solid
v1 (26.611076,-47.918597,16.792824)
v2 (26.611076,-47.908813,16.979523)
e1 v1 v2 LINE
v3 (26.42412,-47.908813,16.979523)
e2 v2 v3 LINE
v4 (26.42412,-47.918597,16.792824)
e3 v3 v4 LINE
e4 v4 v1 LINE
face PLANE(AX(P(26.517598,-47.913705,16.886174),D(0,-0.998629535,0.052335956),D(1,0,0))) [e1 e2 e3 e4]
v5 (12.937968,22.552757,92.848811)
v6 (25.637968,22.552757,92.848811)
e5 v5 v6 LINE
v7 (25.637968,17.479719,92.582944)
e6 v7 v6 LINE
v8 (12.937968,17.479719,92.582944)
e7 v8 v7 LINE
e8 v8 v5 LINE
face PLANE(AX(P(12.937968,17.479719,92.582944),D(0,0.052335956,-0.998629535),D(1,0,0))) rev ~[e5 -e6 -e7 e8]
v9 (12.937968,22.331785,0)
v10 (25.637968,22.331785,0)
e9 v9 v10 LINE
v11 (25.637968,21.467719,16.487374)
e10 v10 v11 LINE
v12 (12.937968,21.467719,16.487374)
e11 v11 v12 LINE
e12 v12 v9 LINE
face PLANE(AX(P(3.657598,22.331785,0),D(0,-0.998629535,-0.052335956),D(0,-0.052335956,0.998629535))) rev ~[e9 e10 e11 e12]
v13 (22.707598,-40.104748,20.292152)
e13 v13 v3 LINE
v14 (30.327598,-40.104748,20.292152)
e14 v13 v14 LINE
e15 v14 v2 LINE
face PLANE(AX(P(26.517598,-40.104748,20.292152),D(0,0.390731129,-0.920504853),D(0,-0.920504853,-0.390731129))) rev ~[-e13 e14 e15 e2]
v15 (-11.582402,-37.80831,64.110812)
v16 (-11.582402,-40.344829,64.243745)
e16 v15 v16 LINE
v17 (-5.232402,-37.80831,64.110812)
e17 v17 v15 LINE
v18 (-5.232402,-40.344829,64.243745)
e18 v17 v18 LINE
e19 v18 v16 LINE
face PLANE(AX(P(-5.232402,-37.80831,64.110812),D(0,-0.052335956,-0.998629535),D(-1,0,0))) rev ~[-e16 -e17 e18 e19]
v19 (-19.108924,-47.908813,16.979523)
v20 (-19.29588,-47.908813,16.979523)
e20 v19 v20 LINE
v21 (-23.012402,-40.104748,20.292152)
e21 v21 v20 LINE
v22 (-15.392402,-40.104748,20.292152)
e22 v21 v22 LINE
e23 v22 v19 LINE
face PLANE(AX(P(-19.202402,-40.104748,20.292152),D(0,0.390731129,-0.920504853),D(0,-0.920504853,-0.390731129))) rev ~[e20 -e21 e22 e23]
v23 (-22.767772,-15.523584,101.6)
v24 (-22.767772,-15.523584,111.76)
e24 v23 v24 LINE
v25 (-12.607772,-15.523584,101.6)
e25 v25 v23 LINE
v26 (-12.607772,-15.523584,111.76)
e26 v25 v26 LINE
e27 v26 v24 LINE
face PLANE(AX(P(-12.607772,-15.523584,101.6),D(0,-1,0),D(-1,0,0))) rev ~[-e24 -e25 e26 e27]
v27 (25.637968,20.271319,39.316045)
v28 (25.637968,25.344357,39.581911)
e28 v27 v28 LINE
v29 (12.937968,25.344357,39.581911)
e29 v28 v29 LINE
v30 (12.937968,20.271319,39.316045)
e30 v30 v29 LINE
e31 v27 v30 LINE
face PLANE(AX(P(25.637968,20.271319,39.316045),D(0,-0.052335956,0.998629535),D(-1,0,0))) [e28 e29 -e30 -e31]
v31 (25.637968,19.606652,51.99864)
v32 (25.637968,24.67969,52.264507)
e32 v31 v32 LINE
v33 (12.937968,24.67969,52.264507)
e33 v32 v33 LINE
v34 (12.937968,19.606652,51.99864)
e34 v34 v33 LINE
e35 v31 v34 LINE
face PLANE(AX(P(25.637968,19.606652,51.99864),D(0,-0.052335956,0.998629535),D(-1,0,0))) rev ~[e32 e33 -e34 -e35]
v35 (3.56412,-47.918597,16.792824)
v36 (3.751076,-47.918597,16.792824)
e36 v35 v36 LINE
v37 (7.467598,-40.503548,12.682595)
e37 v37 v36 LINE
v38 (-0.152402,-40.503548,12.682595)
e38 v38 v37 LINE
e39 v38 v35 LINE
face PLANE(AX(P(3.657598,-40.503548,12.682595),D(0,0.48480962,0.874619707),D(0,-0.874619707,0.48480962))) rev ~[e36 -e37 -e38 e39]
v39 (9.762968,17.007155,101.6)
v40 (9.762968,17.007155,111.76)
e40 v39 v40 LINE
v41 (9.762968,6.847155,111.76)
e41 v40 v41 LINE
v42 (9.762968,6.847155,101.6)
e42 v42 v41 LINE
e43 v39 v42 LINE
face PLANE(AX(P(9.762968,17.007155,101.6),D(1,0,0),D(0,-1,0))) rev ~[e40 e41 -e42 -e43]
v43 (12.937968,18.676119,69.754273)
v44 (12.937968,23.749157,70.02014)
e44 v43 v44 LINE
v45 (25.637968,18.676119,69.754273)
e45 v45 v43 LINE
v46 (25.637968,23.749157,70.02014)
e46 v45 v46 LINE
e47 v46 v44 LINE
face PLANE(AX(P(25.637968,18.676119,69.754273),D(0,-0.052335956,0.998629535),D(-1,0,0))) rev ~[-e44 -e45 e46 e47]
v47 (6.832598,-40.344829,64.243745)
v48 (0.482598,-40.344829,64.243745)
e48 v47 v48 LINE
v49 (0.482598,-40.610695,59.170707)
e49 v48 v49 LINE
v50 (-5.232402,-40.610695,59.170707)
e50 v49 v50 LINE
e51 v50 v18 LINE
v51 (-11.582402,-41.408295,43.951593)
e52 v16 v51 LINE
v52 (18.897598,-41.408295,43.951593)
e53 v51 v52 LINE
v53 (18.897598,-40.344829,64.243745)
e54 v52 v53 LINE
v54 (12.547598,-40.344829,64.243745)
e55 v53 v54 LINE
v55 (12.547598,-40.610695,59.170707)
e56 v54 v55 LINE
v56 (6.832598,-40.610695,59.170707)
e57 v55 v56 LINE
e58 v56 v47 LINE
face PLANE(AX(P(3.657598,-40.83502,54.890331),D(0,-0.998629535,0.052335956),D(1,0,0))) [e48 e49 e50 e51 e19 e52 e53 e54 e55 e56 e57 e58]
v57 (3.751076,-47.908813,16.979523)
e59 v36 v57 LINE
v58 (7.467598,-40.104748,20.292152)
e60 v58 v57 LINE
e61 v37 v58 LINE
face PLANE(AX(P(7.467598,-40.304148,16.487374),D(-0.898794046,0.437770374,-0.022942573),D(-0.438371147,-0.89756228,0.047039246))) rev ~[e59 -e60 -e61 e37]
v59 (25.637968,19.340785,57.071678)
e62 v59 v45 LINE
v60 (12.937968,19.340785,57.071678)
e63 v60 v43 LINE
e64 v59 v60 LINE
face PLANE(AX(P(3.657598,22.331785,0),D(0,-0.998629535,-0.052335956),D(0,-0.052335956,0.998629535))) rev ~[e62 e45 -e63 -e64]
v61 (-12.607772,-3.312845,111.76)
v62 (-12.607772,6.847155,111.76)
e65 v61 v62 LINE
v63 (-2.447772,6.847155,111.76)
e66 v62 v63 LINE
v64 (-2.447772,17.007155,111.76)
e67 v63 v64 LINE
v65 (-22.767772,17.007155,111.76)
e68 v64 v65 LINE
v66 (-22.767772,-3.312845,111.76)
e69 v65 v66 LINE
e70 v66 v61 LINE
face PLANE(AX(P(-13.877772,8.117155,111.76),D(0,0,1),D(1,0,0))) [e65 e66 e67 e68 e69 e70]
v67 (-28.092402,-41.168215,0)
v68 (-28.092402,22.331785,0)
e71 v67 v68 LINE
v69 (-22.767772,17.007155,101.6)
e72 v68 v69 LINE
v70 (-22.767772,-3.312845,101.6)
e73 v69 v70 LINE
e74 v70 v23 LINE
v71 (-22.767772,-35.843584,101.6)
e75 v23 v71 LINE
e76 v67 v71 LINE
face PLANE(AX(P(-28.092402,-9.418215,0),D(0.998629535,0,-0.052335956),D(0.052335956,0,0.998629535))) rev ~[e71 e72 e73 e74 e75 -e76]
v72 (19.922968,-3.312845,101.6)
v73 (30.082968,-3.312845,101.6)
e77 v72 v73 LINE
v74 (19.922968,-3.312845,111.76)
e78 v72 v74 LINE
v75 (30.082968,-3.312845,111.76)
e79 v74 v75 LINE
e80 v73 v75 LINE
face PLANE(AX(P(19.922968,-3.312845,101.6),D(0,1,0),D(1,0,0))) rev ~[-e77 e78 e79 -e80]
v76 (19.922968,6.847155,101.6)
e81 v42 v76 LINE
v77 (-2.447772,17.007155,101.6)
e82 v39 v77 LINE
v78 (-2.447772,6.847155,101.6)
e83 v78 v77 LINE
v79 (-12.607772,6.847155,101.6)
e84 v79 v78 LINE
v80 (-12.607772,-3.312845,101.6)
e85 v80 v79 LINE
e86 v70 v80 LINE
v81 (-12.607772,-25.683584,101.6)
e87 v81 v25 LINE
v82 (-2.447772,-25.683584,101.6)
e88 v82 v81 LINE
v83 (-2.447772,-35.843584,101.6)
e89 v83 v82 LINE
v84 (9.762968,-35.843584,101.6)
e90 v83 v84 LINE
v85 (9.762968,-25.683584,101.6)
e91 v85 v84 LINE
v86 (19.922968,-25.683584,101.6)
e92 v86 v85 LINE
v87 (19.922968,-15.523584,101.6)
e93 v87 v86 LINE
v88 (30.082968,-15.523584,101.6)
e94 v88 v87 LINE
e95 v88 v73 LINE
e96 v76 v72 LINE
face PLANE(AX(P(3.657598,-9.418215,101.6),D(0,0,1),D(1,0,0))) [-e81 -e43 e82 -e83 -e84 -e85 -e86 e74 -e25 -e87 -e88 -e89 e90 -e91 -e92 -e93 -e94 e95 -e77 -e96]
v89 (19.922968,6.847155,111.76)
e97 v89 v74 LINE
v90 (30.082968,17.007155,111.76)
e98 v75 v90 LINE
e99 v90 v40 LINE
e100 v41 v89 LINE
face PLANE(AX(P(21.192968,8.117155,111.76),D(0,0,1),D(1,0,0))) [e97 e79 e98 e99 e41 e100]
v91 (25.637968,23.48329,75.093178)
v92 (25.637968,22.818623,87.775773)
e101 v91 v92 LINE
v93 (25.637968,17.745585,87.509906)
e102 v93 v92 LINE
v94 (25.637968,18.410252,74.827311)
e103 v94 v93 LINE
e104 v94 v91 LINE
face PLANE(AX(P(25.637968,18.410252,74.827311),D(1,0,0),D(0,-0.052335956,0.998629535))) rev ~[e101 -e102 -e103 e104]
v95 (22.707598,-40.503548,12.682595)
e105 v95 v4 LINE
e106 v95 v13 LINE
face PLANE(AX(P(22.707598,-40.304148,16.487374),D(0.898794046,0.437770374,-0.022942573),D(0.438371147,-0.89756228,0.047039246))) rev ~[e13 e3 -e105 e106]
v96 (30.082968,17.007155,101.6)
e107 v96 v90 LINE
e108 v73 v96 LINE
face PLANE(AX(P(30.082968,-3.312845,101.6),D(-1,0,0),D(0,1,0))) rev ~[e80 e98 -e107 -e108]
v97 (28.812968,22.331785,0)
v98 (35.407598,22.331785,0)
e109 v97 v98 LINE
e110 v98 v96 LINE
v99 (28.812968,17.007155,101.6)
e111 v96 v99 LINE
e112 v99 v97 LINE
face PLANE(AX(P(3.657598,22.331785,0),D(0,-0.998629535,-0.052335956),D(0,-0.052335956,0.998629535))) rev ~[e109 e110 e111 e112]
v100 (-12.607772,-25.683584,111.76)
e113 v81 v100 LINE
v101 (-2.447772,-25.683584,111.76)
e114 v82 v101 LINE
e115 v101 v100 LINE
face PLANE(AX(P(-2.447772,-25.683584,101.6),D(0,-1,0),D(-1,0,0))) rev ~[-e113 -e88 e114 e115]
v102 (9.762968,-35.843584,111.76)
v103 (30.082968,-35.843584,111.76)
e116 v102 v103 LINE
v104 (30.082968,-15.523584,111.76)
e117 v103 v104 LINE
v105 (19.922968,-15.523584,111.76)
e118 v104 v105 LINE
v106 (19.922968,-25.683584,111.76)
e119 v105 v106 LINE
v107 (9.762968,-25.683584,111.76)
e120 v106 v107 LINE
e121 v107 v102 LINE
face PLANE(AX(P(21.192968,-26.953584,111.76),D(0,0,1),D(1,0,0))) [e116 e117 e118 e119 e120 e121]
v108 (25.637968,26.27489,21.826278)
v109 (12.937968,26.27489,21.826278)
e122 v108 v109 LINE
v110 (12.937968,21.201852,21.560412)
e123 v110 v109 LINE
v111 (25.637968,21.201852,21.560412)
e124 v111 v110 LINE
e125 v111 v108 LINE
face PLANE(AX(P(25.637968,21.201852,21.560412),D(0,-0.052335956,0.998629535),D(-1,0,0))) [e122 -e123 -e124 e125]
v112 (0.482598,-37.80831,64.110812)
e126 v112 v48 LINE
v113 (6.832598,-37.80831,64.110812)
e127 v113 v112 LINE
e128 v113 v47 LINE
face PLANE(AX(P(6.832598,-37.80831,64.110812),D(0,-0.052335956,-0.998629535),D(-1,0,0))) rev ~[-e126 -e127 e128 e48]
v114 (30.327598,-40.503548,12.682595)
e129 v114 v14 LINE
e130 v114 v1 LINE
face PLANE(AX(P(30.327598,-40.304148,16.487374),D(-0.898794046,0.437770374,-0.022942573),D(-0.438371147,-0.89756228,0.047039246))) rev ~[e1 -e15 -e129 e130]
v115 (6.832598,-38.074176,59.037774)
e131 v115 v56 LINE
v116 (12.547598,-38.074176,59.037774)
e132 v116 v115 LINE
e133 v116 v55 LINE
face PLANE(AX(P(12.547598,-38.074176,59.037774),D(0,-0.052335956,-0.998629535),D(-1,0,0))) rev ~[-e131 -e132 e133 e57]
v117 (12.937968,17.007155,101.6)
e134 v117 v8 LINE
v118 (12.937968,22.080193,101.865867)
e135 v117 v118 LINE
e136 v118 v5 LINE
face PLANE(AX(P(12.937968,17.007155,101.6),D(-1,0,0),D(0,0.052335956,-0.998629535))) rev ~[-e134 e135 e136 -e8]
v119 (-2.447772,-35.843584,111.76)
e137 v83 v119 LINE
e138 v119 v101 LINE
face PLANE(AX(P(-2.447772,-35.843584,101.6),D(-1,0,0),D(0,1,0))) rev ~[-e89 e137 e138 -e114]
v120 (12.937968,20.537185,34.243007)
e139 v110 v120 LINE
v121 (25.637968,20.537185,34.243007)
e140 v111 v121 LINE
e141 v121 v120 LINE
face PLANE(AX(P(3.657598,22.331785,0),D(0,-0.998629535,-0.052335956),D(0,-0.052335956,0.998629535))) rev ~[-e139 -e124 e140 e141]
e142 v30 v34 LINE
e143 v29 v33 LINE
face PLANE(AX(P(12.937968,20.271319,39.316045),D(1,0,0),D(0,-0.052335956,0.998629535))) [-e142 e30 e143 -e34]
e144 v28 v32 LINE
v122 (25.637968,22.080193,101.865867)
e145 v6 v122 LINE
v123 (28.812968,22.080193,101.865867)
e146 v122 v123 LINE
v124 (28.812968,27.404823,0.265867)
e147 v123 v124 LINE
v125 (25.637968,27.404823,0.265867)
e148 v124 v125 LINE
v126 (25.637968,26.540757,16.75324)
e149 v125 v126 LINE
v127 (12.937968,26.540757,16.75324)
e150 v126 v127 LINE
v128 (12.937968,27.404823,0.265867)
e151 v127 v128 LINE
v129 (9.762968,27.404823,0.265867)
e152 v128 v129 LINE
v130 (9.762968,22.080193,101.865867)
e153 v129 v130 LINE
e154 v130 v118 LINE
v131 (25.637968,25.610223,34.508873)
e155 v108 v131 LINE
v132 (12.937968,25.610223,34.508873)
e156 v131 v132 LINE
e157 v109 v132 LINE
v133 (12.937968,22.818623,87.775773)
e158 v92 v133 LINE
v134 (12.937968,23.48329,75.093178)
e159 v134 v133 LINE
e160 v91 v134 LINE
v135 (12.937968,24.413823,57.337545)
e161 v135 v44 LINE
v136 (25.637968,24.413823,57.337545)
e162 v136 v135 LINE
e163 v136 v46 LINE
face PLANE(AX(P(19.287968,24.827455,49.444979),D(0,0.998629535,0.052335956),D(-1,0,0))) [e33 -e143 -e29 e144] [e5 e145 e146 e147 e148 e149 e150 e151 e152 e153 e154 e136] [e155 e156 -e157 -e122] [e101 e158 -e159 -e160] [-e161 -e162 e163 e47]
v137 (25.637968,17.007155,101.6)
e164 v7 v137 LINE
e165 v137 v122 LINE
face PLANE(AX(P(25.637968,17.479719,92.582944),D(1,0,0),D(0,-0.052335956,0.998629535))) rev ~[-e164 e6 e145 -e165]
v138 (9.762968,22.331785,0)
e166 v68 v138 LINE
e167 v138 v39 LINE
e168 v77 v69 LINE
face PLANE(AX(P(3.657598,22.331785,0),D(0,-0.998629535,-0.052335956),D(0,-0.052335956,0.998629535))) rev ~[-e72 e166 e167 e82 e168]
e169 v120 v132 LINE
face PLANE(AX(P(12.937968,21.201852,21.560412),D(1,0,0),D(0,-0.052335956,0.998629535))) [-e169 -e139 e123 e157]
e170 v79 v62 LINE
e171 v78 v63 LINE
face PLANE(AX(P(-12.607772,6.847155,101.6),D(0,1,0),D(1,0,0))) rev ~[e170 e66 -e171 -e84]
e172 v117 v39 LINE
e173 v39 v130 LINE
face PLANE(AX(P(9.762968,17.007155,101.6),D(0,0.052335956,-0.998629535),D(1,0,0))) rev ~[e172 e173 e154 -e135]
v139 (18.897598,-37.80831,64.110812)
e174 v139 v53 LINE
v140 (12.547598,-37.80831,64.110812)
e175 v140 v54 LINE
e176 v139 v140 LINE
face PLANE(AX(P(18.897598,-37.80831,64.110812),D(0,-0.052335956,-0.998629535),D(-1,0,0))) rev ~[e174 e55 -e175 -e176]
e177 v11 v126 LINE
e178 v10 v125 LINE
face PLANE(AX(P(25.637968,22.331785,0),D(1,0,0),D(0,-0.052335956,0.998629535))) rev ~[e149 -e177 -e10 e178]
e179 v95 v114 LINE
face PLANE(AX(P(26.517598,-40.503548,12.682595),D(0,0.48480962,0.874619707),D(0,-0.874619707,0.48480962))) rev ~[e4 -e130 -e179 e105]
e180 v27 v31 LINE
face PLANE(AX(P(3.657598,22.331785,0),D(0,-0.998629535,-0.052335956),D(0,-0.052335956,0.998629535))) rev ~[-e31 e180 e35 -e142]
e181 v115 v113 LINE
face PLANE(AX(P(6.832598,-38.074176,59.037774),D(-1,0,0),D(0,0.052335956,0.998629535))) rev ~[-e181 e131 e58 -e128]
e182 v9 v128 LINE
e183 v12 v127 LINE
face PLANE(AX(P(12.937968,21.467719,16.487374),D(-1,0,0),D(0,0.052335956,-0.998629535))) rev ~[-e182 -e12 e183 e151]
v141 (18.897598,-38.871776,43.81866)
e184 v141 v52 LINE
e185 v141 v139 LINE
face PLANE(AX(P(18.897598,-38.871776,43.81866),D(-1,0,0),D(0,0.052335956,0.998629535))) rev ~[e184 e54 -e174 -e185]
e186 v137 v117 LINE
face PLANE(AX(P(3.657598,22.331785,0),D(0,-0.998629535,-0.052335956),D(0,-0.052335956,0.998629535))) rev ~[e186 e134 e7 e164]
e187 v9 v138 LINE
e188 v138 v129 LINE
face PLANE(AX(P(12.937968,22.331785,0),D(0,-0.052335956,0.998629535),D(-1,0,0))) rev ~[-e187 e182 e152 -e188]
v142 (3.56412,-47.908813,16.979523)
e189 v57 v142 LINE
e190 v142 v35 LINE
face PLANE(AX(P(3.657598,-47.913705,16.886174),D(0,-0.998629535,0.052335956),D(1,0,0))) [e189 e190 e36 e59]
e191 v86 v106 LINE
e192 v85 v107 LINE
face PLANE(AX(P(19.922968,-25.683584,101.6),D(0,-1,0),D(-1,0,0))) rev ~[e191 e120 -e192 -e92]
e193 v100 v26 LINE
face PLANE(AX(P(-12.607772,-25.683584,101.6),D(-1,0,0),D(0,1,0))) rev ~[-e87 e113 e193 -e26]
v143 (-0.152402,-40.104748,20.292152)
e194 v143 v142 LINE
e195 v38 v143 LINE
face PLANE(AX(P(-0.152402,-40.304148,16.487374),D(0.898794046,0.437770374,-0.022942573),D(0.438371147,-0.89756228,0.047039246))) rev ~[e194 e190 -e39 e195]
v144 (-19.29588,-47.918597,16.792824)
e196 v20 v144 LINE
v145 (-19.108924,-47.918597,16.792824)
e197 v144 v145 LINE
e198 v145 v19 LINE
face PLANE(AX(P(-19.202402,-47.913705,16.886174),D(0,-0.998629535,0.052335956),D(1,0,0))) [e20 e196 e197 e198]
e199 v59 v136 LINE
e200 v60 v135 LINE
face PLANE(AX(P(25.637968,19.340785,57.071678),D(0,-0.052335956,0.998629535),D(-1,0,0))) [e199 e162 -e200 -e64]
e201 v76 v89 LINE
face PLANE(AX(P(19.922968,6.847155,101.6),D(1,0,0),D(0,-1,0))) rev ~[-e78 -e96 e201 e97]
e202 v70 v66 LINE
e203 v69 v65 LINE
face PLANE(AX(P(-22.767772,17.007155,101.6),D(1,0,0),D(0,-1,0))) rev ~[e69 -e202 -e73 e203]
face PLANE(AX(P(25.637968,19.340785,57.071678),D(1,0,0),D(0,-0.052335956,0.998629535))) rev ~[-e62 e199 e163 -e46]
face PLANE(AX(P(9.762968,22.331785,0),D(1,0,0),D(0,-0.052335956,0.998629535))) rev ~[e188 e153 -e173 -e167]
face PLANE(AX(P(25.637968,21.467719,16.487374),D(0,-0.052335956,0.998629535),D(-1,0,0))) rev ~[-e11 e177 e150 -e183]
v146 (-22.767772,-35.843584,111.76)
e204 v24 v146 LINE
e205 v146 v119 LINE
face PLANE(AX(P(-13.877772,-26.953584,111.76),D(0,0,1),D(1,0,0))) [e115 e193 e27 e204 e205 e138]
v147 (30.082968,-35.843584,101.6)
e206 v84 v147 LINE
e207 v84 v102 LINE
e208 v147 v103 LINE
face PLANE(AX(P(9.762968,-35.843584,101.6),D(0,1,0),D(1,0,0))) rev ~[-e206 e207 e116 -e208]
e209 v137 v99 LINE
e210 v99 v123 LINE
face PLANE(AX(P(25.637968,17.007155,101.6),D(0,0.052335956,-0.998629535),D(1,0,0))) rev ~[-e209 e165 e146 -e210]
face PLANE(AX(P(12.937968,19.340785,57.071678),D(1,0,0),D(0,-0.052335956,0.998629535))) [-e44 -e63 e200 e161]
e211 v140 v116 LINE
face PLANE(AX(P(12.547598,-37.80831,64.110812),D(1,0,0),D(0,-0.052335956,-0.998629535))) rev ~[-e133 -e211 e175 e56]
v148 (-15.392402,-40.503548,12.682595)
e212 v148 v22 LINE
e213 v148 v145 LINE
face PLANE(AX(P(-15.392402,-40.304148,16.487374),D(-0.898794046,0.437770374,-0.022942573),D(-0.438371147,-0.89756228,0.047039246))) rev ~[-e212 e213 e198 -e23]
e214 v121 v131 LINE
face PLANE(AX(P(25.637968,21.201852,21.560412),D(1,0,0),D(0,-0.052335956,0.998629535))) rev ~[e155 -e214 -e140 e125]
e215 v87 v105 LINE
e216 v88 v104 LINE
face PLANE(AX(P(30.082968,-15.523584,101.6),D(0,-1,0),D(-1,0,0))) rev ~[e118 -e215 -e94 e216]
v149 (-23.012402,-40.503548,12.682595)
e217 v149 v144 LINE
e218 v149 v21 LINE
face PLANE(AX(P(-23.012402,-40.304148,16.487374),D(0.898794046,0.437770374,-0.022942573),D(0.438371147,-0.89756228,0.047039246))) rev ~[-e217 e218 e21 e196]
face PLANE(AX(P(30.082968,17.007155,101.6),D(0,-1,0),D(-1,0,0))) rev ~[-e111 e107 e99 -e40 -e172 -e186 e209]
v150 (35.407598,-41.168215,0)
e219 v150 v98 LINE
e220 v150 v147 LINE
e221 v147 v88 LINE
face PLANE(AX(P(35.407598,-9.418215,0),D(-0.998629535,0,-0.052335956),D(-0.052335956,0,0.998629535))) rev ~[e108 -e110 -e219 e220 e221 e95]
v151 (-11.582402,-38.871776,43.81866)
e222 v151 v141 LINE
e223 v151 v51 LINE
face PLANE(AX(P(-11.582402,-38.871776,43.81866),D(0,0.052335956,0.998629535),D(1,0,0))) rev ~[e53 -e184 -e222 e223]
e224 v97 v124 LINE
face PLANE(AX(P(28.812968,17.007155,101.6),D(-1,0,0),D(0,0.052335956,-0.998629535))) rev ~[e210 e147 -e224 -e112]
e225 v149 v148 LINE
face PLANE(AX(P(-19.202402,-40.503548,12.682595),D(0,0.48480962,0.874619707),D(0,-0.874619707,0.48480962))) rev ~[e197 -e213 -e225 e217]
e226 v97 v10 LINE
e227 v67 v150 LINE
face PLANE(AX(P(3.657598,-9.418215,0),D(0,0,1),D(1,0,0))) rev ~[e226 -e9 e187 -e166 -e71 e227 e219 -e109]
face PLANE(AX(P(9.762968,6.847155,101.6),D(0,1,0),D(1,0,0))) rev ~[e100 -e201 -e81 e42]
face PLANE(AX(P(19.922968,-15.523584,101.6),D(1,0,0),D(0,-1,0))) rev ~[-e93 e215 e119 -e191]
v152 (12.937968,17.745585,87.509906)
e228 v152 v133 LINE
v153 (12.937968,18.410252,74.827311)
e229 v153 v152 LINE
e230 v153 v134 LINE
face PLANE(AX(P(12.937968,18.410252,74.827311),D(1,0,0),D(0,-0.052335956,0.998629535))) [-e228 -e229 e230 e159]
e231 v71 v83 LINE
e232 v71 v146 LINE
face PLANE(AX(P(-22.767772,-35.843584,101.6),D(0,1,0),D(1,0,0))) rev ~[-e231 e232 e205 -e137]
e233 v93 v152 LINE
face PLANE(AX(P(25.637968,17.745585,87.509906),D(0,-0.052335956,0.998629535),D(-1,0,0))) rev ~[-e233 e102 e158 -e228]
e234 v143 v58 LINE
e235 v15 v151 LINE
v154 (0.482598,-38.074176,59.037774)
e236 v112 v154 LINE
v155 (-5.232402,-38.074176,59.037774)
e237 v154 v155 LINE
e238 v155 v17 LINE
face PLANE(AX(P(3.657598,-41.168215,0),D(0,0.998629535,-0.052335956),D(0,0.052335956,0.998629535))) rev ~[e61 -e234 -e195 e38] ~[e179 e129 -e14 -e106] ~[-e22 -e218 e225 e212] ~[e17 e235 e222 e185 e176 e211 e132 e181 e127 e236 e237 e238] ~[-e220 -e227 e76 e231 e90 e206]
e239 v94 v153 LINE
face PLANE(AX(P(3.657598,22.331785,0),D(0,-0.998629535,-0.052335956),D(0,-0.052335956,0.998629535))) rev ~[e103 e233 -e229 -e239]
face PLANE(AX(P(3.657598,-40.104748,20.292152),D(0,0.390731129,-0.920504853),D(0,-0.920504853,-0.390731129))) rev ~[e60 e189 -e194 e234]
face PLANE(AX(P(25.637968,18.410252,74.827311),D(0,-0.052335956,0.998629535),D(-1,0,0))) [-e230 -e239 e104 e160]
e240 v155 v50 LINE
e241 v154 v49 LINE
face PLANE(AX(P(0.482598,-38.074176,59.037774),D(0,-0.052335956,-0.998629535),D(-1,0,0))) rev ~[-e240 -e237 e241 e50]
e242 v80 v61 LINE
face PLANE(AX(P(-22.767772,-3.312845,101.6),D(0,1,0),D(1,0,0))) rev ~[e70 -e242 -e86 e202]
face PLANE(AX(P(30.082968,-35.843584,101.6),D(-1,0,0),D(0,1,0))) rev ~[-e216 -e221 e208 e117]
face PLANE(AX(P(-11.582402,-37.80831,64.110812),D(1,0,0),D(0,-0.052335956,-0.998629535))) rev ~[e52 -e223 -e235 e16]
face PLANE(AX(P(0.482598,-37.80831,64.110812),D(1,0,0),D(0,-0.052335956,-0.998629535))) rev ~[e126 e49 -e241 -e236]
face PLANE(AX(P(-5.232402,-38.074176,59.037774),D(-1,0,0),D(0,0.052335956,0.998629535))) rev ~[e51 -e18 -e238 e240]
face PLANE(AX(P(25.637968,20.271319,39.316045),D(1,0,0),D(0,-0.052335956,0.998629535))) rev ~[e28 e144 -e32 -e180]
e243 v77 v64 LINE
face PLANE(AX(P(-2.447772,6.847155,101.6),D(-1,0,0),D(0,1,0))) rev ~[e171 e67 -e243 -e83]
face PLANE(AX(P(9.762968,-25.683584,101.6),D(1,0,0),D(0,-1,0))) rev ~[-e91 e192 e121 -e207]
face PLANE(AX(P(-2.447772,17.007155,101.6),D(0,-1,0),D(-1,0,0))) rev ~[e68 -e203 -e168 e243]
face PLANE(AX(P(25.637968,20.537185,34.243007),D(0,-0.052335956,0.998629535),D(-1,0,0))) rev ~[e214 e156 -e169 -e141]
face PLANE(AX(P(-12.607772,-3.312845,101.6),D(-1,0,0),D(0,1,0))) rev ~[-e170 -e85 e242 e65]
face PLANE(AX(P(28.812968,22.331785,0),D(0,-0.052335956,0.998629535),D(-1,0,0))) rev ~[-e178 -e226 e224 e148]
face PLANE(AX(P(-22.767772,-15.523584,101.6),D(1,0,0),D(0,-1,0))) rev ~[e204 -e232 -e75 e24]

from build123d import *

# Parameters (mm, degrees)
F0_W     = 63.5
F0_H     = 63.5
F1_DEPTH = 101.6
F1_TAPER = 3
F3_DEPTH = 10.16
F4_W     = 7.62
F4_H     = 7.62
F5_DEPTH = 7.62
F5_TAPER = 26
F7_DEPTH = 2.54
F8_W     = 12.7
F8_H     = 12.7
F9_DEPTH = 5.08


with BuildPart() as f1:
    # F0 (on Top) → F1 (new body)
    with BuildSketch(Plane.XY):
        with Locations((3.6575980484, -9.4182148212)):
            Rectangle(F0_W, F0_H)
    extrude(amount=F1_DEPTH, taper=F1_TAPER)

    # F2 (on face) → F3 (join)
    with BuildSketch(Plane.XY.offset(101.6)):
        Polygon((-12.6077715764, -15.5235844461), (-22.7677715764, -15.5235844461), (-22.7677715764, -35.8435844461), (-12.6077715764, -35.8435844461), (-2.4477715764, -35.8435844461), (-2.4477715764, -25.6835844461), (-12.6077715764, -25.6835844461), align=None)
        Polygon((19.9229676733, -35.8435844461), (30.0829676733, -35.8435844461), (30.0829676733, -15.5235844461), (19.9229676733, -15.5235844461), (19.9229676733, -25.6835844461), (9.7629676733, -25.6835844461), (9.7629676733, -35.8435844461), align=None)
        Polygon((-12.6077715764, 17.0071548036), (-22.7677715764, 17.0071548036), (-22.7677715764, -3.3128451964), (-12.6077715764, -3.3128451964), (-12.6077715764, 6.8471548036), (-2.4477715764, 6.8471548036), (-2.4477715764, 17.0071548036), align=None)
        Polygon((30.0829676733, -3.3128451964), (30.0829676733, 17.0071548036), (19.9229676733, 17.0071548036), (9.7629676733, 17.0071548036), (9.7629676733, 6.8471548036), (19.9229676733, 6.8471548036), (19.9229676733, -3.3128451964), align=None)
    extrude(amount=F3_DEPTH)

    # F4 (on face) → F5 (join)
    with BuildSketch(Plane(origin=(0, -41.0554529271, 2.1516251154), x_dir=(1, 0, 0), z_dir=(0, -0.9986295348, 0.0523359562))):
        with Locations((-19.2024019516, 14.3554221105)):
            Rectangle(F4_W, F4_H)
        with Locations((3.6575980484, 14.3554221105)):
            Rectangle(F4_W, F4_H)
        with Locations((26.5175980484, 14.3554221105)):
            Rectangle(F4_W, F4_H)
    extrude(amount=F5_DEPTH, taper=F5_TAPER)

    # F6 (on face) → F7 (join)
    with BuildSketch(Plane(origin=(0, -41.0554529271, 2.1516251154), x_dir=(1, 0, 0), z_dir=(0, -0.9986295348, 0.0523359562))):
        Polygon((-11.5824019516, 56.964216193), (-11.5824019516, 41.724216193), (18.8975980484, 41.724216193), (18.8975980484, 56.964216193), (18.8975980484, 62.044216193), (12.5475980484, 62.044216193), (12.5475980484, 56.964216193), (6.8325980484, 56.964216193), (6.8325980484, 62.044216193), (0.4825980484, 62.044216193), (0.4825980484, 56.964216193), (-5.2324019516, 56.964216193), (-5.2324019516, 62.044216193), (-11.5824019516, 62.044216193), align=None)
    extrude(amount=F7_DEPTH)

    # F8 (on face) → F9 (join)
    with BuildSketch(Plane(origin=(0, 22.2706172509, 1.1671535934), x_dir=(-1, 0, 0), z_dir=(0, 0.9986295348, 0.0523359562))):
        Polygon((-28.8129676733, 100.5706750214), (-28.8129676733, -1.1687553319), (-25.6379676733, -1.1687553319), (-25.6379676733, 15.3412446681), (-12.9379676733, 15.3412446681), (-12.9379676733, -1.1687553319), (-9.7629676733, -1.1687553319), (-9.7629676733, 100.5706750214), (-12.9379676733, 100.5706750214), (-12.9379676733, 91.5412446681), (-25.6379676733, 91.5412446681), (-25.6379676733, 100.5706750214), align=None)
        with Locations((-19.2879676733, 26.7712446681)):
            Rectangle(F8_W, F8_H, mode=Mode.SUBTRACT)
        with Locations((-19.2879676733, 44.5512446681)):
            Rectangle(F8_W, F8_H, mode=Mode.SUBTRACT)
        with Locations((-19.2879676733, 80.1112446681)):
            Rectangle(F8_W, F8_H, mode=Mode.SUBTRACT)
        with Locations((-19.2879676733, 62.3312446681)):
            Rectangle(F8_W, F8_H, mode=Mode.SUBTRACT)
    extrude(amount=F9_DEPTH)


solid = f1.part
